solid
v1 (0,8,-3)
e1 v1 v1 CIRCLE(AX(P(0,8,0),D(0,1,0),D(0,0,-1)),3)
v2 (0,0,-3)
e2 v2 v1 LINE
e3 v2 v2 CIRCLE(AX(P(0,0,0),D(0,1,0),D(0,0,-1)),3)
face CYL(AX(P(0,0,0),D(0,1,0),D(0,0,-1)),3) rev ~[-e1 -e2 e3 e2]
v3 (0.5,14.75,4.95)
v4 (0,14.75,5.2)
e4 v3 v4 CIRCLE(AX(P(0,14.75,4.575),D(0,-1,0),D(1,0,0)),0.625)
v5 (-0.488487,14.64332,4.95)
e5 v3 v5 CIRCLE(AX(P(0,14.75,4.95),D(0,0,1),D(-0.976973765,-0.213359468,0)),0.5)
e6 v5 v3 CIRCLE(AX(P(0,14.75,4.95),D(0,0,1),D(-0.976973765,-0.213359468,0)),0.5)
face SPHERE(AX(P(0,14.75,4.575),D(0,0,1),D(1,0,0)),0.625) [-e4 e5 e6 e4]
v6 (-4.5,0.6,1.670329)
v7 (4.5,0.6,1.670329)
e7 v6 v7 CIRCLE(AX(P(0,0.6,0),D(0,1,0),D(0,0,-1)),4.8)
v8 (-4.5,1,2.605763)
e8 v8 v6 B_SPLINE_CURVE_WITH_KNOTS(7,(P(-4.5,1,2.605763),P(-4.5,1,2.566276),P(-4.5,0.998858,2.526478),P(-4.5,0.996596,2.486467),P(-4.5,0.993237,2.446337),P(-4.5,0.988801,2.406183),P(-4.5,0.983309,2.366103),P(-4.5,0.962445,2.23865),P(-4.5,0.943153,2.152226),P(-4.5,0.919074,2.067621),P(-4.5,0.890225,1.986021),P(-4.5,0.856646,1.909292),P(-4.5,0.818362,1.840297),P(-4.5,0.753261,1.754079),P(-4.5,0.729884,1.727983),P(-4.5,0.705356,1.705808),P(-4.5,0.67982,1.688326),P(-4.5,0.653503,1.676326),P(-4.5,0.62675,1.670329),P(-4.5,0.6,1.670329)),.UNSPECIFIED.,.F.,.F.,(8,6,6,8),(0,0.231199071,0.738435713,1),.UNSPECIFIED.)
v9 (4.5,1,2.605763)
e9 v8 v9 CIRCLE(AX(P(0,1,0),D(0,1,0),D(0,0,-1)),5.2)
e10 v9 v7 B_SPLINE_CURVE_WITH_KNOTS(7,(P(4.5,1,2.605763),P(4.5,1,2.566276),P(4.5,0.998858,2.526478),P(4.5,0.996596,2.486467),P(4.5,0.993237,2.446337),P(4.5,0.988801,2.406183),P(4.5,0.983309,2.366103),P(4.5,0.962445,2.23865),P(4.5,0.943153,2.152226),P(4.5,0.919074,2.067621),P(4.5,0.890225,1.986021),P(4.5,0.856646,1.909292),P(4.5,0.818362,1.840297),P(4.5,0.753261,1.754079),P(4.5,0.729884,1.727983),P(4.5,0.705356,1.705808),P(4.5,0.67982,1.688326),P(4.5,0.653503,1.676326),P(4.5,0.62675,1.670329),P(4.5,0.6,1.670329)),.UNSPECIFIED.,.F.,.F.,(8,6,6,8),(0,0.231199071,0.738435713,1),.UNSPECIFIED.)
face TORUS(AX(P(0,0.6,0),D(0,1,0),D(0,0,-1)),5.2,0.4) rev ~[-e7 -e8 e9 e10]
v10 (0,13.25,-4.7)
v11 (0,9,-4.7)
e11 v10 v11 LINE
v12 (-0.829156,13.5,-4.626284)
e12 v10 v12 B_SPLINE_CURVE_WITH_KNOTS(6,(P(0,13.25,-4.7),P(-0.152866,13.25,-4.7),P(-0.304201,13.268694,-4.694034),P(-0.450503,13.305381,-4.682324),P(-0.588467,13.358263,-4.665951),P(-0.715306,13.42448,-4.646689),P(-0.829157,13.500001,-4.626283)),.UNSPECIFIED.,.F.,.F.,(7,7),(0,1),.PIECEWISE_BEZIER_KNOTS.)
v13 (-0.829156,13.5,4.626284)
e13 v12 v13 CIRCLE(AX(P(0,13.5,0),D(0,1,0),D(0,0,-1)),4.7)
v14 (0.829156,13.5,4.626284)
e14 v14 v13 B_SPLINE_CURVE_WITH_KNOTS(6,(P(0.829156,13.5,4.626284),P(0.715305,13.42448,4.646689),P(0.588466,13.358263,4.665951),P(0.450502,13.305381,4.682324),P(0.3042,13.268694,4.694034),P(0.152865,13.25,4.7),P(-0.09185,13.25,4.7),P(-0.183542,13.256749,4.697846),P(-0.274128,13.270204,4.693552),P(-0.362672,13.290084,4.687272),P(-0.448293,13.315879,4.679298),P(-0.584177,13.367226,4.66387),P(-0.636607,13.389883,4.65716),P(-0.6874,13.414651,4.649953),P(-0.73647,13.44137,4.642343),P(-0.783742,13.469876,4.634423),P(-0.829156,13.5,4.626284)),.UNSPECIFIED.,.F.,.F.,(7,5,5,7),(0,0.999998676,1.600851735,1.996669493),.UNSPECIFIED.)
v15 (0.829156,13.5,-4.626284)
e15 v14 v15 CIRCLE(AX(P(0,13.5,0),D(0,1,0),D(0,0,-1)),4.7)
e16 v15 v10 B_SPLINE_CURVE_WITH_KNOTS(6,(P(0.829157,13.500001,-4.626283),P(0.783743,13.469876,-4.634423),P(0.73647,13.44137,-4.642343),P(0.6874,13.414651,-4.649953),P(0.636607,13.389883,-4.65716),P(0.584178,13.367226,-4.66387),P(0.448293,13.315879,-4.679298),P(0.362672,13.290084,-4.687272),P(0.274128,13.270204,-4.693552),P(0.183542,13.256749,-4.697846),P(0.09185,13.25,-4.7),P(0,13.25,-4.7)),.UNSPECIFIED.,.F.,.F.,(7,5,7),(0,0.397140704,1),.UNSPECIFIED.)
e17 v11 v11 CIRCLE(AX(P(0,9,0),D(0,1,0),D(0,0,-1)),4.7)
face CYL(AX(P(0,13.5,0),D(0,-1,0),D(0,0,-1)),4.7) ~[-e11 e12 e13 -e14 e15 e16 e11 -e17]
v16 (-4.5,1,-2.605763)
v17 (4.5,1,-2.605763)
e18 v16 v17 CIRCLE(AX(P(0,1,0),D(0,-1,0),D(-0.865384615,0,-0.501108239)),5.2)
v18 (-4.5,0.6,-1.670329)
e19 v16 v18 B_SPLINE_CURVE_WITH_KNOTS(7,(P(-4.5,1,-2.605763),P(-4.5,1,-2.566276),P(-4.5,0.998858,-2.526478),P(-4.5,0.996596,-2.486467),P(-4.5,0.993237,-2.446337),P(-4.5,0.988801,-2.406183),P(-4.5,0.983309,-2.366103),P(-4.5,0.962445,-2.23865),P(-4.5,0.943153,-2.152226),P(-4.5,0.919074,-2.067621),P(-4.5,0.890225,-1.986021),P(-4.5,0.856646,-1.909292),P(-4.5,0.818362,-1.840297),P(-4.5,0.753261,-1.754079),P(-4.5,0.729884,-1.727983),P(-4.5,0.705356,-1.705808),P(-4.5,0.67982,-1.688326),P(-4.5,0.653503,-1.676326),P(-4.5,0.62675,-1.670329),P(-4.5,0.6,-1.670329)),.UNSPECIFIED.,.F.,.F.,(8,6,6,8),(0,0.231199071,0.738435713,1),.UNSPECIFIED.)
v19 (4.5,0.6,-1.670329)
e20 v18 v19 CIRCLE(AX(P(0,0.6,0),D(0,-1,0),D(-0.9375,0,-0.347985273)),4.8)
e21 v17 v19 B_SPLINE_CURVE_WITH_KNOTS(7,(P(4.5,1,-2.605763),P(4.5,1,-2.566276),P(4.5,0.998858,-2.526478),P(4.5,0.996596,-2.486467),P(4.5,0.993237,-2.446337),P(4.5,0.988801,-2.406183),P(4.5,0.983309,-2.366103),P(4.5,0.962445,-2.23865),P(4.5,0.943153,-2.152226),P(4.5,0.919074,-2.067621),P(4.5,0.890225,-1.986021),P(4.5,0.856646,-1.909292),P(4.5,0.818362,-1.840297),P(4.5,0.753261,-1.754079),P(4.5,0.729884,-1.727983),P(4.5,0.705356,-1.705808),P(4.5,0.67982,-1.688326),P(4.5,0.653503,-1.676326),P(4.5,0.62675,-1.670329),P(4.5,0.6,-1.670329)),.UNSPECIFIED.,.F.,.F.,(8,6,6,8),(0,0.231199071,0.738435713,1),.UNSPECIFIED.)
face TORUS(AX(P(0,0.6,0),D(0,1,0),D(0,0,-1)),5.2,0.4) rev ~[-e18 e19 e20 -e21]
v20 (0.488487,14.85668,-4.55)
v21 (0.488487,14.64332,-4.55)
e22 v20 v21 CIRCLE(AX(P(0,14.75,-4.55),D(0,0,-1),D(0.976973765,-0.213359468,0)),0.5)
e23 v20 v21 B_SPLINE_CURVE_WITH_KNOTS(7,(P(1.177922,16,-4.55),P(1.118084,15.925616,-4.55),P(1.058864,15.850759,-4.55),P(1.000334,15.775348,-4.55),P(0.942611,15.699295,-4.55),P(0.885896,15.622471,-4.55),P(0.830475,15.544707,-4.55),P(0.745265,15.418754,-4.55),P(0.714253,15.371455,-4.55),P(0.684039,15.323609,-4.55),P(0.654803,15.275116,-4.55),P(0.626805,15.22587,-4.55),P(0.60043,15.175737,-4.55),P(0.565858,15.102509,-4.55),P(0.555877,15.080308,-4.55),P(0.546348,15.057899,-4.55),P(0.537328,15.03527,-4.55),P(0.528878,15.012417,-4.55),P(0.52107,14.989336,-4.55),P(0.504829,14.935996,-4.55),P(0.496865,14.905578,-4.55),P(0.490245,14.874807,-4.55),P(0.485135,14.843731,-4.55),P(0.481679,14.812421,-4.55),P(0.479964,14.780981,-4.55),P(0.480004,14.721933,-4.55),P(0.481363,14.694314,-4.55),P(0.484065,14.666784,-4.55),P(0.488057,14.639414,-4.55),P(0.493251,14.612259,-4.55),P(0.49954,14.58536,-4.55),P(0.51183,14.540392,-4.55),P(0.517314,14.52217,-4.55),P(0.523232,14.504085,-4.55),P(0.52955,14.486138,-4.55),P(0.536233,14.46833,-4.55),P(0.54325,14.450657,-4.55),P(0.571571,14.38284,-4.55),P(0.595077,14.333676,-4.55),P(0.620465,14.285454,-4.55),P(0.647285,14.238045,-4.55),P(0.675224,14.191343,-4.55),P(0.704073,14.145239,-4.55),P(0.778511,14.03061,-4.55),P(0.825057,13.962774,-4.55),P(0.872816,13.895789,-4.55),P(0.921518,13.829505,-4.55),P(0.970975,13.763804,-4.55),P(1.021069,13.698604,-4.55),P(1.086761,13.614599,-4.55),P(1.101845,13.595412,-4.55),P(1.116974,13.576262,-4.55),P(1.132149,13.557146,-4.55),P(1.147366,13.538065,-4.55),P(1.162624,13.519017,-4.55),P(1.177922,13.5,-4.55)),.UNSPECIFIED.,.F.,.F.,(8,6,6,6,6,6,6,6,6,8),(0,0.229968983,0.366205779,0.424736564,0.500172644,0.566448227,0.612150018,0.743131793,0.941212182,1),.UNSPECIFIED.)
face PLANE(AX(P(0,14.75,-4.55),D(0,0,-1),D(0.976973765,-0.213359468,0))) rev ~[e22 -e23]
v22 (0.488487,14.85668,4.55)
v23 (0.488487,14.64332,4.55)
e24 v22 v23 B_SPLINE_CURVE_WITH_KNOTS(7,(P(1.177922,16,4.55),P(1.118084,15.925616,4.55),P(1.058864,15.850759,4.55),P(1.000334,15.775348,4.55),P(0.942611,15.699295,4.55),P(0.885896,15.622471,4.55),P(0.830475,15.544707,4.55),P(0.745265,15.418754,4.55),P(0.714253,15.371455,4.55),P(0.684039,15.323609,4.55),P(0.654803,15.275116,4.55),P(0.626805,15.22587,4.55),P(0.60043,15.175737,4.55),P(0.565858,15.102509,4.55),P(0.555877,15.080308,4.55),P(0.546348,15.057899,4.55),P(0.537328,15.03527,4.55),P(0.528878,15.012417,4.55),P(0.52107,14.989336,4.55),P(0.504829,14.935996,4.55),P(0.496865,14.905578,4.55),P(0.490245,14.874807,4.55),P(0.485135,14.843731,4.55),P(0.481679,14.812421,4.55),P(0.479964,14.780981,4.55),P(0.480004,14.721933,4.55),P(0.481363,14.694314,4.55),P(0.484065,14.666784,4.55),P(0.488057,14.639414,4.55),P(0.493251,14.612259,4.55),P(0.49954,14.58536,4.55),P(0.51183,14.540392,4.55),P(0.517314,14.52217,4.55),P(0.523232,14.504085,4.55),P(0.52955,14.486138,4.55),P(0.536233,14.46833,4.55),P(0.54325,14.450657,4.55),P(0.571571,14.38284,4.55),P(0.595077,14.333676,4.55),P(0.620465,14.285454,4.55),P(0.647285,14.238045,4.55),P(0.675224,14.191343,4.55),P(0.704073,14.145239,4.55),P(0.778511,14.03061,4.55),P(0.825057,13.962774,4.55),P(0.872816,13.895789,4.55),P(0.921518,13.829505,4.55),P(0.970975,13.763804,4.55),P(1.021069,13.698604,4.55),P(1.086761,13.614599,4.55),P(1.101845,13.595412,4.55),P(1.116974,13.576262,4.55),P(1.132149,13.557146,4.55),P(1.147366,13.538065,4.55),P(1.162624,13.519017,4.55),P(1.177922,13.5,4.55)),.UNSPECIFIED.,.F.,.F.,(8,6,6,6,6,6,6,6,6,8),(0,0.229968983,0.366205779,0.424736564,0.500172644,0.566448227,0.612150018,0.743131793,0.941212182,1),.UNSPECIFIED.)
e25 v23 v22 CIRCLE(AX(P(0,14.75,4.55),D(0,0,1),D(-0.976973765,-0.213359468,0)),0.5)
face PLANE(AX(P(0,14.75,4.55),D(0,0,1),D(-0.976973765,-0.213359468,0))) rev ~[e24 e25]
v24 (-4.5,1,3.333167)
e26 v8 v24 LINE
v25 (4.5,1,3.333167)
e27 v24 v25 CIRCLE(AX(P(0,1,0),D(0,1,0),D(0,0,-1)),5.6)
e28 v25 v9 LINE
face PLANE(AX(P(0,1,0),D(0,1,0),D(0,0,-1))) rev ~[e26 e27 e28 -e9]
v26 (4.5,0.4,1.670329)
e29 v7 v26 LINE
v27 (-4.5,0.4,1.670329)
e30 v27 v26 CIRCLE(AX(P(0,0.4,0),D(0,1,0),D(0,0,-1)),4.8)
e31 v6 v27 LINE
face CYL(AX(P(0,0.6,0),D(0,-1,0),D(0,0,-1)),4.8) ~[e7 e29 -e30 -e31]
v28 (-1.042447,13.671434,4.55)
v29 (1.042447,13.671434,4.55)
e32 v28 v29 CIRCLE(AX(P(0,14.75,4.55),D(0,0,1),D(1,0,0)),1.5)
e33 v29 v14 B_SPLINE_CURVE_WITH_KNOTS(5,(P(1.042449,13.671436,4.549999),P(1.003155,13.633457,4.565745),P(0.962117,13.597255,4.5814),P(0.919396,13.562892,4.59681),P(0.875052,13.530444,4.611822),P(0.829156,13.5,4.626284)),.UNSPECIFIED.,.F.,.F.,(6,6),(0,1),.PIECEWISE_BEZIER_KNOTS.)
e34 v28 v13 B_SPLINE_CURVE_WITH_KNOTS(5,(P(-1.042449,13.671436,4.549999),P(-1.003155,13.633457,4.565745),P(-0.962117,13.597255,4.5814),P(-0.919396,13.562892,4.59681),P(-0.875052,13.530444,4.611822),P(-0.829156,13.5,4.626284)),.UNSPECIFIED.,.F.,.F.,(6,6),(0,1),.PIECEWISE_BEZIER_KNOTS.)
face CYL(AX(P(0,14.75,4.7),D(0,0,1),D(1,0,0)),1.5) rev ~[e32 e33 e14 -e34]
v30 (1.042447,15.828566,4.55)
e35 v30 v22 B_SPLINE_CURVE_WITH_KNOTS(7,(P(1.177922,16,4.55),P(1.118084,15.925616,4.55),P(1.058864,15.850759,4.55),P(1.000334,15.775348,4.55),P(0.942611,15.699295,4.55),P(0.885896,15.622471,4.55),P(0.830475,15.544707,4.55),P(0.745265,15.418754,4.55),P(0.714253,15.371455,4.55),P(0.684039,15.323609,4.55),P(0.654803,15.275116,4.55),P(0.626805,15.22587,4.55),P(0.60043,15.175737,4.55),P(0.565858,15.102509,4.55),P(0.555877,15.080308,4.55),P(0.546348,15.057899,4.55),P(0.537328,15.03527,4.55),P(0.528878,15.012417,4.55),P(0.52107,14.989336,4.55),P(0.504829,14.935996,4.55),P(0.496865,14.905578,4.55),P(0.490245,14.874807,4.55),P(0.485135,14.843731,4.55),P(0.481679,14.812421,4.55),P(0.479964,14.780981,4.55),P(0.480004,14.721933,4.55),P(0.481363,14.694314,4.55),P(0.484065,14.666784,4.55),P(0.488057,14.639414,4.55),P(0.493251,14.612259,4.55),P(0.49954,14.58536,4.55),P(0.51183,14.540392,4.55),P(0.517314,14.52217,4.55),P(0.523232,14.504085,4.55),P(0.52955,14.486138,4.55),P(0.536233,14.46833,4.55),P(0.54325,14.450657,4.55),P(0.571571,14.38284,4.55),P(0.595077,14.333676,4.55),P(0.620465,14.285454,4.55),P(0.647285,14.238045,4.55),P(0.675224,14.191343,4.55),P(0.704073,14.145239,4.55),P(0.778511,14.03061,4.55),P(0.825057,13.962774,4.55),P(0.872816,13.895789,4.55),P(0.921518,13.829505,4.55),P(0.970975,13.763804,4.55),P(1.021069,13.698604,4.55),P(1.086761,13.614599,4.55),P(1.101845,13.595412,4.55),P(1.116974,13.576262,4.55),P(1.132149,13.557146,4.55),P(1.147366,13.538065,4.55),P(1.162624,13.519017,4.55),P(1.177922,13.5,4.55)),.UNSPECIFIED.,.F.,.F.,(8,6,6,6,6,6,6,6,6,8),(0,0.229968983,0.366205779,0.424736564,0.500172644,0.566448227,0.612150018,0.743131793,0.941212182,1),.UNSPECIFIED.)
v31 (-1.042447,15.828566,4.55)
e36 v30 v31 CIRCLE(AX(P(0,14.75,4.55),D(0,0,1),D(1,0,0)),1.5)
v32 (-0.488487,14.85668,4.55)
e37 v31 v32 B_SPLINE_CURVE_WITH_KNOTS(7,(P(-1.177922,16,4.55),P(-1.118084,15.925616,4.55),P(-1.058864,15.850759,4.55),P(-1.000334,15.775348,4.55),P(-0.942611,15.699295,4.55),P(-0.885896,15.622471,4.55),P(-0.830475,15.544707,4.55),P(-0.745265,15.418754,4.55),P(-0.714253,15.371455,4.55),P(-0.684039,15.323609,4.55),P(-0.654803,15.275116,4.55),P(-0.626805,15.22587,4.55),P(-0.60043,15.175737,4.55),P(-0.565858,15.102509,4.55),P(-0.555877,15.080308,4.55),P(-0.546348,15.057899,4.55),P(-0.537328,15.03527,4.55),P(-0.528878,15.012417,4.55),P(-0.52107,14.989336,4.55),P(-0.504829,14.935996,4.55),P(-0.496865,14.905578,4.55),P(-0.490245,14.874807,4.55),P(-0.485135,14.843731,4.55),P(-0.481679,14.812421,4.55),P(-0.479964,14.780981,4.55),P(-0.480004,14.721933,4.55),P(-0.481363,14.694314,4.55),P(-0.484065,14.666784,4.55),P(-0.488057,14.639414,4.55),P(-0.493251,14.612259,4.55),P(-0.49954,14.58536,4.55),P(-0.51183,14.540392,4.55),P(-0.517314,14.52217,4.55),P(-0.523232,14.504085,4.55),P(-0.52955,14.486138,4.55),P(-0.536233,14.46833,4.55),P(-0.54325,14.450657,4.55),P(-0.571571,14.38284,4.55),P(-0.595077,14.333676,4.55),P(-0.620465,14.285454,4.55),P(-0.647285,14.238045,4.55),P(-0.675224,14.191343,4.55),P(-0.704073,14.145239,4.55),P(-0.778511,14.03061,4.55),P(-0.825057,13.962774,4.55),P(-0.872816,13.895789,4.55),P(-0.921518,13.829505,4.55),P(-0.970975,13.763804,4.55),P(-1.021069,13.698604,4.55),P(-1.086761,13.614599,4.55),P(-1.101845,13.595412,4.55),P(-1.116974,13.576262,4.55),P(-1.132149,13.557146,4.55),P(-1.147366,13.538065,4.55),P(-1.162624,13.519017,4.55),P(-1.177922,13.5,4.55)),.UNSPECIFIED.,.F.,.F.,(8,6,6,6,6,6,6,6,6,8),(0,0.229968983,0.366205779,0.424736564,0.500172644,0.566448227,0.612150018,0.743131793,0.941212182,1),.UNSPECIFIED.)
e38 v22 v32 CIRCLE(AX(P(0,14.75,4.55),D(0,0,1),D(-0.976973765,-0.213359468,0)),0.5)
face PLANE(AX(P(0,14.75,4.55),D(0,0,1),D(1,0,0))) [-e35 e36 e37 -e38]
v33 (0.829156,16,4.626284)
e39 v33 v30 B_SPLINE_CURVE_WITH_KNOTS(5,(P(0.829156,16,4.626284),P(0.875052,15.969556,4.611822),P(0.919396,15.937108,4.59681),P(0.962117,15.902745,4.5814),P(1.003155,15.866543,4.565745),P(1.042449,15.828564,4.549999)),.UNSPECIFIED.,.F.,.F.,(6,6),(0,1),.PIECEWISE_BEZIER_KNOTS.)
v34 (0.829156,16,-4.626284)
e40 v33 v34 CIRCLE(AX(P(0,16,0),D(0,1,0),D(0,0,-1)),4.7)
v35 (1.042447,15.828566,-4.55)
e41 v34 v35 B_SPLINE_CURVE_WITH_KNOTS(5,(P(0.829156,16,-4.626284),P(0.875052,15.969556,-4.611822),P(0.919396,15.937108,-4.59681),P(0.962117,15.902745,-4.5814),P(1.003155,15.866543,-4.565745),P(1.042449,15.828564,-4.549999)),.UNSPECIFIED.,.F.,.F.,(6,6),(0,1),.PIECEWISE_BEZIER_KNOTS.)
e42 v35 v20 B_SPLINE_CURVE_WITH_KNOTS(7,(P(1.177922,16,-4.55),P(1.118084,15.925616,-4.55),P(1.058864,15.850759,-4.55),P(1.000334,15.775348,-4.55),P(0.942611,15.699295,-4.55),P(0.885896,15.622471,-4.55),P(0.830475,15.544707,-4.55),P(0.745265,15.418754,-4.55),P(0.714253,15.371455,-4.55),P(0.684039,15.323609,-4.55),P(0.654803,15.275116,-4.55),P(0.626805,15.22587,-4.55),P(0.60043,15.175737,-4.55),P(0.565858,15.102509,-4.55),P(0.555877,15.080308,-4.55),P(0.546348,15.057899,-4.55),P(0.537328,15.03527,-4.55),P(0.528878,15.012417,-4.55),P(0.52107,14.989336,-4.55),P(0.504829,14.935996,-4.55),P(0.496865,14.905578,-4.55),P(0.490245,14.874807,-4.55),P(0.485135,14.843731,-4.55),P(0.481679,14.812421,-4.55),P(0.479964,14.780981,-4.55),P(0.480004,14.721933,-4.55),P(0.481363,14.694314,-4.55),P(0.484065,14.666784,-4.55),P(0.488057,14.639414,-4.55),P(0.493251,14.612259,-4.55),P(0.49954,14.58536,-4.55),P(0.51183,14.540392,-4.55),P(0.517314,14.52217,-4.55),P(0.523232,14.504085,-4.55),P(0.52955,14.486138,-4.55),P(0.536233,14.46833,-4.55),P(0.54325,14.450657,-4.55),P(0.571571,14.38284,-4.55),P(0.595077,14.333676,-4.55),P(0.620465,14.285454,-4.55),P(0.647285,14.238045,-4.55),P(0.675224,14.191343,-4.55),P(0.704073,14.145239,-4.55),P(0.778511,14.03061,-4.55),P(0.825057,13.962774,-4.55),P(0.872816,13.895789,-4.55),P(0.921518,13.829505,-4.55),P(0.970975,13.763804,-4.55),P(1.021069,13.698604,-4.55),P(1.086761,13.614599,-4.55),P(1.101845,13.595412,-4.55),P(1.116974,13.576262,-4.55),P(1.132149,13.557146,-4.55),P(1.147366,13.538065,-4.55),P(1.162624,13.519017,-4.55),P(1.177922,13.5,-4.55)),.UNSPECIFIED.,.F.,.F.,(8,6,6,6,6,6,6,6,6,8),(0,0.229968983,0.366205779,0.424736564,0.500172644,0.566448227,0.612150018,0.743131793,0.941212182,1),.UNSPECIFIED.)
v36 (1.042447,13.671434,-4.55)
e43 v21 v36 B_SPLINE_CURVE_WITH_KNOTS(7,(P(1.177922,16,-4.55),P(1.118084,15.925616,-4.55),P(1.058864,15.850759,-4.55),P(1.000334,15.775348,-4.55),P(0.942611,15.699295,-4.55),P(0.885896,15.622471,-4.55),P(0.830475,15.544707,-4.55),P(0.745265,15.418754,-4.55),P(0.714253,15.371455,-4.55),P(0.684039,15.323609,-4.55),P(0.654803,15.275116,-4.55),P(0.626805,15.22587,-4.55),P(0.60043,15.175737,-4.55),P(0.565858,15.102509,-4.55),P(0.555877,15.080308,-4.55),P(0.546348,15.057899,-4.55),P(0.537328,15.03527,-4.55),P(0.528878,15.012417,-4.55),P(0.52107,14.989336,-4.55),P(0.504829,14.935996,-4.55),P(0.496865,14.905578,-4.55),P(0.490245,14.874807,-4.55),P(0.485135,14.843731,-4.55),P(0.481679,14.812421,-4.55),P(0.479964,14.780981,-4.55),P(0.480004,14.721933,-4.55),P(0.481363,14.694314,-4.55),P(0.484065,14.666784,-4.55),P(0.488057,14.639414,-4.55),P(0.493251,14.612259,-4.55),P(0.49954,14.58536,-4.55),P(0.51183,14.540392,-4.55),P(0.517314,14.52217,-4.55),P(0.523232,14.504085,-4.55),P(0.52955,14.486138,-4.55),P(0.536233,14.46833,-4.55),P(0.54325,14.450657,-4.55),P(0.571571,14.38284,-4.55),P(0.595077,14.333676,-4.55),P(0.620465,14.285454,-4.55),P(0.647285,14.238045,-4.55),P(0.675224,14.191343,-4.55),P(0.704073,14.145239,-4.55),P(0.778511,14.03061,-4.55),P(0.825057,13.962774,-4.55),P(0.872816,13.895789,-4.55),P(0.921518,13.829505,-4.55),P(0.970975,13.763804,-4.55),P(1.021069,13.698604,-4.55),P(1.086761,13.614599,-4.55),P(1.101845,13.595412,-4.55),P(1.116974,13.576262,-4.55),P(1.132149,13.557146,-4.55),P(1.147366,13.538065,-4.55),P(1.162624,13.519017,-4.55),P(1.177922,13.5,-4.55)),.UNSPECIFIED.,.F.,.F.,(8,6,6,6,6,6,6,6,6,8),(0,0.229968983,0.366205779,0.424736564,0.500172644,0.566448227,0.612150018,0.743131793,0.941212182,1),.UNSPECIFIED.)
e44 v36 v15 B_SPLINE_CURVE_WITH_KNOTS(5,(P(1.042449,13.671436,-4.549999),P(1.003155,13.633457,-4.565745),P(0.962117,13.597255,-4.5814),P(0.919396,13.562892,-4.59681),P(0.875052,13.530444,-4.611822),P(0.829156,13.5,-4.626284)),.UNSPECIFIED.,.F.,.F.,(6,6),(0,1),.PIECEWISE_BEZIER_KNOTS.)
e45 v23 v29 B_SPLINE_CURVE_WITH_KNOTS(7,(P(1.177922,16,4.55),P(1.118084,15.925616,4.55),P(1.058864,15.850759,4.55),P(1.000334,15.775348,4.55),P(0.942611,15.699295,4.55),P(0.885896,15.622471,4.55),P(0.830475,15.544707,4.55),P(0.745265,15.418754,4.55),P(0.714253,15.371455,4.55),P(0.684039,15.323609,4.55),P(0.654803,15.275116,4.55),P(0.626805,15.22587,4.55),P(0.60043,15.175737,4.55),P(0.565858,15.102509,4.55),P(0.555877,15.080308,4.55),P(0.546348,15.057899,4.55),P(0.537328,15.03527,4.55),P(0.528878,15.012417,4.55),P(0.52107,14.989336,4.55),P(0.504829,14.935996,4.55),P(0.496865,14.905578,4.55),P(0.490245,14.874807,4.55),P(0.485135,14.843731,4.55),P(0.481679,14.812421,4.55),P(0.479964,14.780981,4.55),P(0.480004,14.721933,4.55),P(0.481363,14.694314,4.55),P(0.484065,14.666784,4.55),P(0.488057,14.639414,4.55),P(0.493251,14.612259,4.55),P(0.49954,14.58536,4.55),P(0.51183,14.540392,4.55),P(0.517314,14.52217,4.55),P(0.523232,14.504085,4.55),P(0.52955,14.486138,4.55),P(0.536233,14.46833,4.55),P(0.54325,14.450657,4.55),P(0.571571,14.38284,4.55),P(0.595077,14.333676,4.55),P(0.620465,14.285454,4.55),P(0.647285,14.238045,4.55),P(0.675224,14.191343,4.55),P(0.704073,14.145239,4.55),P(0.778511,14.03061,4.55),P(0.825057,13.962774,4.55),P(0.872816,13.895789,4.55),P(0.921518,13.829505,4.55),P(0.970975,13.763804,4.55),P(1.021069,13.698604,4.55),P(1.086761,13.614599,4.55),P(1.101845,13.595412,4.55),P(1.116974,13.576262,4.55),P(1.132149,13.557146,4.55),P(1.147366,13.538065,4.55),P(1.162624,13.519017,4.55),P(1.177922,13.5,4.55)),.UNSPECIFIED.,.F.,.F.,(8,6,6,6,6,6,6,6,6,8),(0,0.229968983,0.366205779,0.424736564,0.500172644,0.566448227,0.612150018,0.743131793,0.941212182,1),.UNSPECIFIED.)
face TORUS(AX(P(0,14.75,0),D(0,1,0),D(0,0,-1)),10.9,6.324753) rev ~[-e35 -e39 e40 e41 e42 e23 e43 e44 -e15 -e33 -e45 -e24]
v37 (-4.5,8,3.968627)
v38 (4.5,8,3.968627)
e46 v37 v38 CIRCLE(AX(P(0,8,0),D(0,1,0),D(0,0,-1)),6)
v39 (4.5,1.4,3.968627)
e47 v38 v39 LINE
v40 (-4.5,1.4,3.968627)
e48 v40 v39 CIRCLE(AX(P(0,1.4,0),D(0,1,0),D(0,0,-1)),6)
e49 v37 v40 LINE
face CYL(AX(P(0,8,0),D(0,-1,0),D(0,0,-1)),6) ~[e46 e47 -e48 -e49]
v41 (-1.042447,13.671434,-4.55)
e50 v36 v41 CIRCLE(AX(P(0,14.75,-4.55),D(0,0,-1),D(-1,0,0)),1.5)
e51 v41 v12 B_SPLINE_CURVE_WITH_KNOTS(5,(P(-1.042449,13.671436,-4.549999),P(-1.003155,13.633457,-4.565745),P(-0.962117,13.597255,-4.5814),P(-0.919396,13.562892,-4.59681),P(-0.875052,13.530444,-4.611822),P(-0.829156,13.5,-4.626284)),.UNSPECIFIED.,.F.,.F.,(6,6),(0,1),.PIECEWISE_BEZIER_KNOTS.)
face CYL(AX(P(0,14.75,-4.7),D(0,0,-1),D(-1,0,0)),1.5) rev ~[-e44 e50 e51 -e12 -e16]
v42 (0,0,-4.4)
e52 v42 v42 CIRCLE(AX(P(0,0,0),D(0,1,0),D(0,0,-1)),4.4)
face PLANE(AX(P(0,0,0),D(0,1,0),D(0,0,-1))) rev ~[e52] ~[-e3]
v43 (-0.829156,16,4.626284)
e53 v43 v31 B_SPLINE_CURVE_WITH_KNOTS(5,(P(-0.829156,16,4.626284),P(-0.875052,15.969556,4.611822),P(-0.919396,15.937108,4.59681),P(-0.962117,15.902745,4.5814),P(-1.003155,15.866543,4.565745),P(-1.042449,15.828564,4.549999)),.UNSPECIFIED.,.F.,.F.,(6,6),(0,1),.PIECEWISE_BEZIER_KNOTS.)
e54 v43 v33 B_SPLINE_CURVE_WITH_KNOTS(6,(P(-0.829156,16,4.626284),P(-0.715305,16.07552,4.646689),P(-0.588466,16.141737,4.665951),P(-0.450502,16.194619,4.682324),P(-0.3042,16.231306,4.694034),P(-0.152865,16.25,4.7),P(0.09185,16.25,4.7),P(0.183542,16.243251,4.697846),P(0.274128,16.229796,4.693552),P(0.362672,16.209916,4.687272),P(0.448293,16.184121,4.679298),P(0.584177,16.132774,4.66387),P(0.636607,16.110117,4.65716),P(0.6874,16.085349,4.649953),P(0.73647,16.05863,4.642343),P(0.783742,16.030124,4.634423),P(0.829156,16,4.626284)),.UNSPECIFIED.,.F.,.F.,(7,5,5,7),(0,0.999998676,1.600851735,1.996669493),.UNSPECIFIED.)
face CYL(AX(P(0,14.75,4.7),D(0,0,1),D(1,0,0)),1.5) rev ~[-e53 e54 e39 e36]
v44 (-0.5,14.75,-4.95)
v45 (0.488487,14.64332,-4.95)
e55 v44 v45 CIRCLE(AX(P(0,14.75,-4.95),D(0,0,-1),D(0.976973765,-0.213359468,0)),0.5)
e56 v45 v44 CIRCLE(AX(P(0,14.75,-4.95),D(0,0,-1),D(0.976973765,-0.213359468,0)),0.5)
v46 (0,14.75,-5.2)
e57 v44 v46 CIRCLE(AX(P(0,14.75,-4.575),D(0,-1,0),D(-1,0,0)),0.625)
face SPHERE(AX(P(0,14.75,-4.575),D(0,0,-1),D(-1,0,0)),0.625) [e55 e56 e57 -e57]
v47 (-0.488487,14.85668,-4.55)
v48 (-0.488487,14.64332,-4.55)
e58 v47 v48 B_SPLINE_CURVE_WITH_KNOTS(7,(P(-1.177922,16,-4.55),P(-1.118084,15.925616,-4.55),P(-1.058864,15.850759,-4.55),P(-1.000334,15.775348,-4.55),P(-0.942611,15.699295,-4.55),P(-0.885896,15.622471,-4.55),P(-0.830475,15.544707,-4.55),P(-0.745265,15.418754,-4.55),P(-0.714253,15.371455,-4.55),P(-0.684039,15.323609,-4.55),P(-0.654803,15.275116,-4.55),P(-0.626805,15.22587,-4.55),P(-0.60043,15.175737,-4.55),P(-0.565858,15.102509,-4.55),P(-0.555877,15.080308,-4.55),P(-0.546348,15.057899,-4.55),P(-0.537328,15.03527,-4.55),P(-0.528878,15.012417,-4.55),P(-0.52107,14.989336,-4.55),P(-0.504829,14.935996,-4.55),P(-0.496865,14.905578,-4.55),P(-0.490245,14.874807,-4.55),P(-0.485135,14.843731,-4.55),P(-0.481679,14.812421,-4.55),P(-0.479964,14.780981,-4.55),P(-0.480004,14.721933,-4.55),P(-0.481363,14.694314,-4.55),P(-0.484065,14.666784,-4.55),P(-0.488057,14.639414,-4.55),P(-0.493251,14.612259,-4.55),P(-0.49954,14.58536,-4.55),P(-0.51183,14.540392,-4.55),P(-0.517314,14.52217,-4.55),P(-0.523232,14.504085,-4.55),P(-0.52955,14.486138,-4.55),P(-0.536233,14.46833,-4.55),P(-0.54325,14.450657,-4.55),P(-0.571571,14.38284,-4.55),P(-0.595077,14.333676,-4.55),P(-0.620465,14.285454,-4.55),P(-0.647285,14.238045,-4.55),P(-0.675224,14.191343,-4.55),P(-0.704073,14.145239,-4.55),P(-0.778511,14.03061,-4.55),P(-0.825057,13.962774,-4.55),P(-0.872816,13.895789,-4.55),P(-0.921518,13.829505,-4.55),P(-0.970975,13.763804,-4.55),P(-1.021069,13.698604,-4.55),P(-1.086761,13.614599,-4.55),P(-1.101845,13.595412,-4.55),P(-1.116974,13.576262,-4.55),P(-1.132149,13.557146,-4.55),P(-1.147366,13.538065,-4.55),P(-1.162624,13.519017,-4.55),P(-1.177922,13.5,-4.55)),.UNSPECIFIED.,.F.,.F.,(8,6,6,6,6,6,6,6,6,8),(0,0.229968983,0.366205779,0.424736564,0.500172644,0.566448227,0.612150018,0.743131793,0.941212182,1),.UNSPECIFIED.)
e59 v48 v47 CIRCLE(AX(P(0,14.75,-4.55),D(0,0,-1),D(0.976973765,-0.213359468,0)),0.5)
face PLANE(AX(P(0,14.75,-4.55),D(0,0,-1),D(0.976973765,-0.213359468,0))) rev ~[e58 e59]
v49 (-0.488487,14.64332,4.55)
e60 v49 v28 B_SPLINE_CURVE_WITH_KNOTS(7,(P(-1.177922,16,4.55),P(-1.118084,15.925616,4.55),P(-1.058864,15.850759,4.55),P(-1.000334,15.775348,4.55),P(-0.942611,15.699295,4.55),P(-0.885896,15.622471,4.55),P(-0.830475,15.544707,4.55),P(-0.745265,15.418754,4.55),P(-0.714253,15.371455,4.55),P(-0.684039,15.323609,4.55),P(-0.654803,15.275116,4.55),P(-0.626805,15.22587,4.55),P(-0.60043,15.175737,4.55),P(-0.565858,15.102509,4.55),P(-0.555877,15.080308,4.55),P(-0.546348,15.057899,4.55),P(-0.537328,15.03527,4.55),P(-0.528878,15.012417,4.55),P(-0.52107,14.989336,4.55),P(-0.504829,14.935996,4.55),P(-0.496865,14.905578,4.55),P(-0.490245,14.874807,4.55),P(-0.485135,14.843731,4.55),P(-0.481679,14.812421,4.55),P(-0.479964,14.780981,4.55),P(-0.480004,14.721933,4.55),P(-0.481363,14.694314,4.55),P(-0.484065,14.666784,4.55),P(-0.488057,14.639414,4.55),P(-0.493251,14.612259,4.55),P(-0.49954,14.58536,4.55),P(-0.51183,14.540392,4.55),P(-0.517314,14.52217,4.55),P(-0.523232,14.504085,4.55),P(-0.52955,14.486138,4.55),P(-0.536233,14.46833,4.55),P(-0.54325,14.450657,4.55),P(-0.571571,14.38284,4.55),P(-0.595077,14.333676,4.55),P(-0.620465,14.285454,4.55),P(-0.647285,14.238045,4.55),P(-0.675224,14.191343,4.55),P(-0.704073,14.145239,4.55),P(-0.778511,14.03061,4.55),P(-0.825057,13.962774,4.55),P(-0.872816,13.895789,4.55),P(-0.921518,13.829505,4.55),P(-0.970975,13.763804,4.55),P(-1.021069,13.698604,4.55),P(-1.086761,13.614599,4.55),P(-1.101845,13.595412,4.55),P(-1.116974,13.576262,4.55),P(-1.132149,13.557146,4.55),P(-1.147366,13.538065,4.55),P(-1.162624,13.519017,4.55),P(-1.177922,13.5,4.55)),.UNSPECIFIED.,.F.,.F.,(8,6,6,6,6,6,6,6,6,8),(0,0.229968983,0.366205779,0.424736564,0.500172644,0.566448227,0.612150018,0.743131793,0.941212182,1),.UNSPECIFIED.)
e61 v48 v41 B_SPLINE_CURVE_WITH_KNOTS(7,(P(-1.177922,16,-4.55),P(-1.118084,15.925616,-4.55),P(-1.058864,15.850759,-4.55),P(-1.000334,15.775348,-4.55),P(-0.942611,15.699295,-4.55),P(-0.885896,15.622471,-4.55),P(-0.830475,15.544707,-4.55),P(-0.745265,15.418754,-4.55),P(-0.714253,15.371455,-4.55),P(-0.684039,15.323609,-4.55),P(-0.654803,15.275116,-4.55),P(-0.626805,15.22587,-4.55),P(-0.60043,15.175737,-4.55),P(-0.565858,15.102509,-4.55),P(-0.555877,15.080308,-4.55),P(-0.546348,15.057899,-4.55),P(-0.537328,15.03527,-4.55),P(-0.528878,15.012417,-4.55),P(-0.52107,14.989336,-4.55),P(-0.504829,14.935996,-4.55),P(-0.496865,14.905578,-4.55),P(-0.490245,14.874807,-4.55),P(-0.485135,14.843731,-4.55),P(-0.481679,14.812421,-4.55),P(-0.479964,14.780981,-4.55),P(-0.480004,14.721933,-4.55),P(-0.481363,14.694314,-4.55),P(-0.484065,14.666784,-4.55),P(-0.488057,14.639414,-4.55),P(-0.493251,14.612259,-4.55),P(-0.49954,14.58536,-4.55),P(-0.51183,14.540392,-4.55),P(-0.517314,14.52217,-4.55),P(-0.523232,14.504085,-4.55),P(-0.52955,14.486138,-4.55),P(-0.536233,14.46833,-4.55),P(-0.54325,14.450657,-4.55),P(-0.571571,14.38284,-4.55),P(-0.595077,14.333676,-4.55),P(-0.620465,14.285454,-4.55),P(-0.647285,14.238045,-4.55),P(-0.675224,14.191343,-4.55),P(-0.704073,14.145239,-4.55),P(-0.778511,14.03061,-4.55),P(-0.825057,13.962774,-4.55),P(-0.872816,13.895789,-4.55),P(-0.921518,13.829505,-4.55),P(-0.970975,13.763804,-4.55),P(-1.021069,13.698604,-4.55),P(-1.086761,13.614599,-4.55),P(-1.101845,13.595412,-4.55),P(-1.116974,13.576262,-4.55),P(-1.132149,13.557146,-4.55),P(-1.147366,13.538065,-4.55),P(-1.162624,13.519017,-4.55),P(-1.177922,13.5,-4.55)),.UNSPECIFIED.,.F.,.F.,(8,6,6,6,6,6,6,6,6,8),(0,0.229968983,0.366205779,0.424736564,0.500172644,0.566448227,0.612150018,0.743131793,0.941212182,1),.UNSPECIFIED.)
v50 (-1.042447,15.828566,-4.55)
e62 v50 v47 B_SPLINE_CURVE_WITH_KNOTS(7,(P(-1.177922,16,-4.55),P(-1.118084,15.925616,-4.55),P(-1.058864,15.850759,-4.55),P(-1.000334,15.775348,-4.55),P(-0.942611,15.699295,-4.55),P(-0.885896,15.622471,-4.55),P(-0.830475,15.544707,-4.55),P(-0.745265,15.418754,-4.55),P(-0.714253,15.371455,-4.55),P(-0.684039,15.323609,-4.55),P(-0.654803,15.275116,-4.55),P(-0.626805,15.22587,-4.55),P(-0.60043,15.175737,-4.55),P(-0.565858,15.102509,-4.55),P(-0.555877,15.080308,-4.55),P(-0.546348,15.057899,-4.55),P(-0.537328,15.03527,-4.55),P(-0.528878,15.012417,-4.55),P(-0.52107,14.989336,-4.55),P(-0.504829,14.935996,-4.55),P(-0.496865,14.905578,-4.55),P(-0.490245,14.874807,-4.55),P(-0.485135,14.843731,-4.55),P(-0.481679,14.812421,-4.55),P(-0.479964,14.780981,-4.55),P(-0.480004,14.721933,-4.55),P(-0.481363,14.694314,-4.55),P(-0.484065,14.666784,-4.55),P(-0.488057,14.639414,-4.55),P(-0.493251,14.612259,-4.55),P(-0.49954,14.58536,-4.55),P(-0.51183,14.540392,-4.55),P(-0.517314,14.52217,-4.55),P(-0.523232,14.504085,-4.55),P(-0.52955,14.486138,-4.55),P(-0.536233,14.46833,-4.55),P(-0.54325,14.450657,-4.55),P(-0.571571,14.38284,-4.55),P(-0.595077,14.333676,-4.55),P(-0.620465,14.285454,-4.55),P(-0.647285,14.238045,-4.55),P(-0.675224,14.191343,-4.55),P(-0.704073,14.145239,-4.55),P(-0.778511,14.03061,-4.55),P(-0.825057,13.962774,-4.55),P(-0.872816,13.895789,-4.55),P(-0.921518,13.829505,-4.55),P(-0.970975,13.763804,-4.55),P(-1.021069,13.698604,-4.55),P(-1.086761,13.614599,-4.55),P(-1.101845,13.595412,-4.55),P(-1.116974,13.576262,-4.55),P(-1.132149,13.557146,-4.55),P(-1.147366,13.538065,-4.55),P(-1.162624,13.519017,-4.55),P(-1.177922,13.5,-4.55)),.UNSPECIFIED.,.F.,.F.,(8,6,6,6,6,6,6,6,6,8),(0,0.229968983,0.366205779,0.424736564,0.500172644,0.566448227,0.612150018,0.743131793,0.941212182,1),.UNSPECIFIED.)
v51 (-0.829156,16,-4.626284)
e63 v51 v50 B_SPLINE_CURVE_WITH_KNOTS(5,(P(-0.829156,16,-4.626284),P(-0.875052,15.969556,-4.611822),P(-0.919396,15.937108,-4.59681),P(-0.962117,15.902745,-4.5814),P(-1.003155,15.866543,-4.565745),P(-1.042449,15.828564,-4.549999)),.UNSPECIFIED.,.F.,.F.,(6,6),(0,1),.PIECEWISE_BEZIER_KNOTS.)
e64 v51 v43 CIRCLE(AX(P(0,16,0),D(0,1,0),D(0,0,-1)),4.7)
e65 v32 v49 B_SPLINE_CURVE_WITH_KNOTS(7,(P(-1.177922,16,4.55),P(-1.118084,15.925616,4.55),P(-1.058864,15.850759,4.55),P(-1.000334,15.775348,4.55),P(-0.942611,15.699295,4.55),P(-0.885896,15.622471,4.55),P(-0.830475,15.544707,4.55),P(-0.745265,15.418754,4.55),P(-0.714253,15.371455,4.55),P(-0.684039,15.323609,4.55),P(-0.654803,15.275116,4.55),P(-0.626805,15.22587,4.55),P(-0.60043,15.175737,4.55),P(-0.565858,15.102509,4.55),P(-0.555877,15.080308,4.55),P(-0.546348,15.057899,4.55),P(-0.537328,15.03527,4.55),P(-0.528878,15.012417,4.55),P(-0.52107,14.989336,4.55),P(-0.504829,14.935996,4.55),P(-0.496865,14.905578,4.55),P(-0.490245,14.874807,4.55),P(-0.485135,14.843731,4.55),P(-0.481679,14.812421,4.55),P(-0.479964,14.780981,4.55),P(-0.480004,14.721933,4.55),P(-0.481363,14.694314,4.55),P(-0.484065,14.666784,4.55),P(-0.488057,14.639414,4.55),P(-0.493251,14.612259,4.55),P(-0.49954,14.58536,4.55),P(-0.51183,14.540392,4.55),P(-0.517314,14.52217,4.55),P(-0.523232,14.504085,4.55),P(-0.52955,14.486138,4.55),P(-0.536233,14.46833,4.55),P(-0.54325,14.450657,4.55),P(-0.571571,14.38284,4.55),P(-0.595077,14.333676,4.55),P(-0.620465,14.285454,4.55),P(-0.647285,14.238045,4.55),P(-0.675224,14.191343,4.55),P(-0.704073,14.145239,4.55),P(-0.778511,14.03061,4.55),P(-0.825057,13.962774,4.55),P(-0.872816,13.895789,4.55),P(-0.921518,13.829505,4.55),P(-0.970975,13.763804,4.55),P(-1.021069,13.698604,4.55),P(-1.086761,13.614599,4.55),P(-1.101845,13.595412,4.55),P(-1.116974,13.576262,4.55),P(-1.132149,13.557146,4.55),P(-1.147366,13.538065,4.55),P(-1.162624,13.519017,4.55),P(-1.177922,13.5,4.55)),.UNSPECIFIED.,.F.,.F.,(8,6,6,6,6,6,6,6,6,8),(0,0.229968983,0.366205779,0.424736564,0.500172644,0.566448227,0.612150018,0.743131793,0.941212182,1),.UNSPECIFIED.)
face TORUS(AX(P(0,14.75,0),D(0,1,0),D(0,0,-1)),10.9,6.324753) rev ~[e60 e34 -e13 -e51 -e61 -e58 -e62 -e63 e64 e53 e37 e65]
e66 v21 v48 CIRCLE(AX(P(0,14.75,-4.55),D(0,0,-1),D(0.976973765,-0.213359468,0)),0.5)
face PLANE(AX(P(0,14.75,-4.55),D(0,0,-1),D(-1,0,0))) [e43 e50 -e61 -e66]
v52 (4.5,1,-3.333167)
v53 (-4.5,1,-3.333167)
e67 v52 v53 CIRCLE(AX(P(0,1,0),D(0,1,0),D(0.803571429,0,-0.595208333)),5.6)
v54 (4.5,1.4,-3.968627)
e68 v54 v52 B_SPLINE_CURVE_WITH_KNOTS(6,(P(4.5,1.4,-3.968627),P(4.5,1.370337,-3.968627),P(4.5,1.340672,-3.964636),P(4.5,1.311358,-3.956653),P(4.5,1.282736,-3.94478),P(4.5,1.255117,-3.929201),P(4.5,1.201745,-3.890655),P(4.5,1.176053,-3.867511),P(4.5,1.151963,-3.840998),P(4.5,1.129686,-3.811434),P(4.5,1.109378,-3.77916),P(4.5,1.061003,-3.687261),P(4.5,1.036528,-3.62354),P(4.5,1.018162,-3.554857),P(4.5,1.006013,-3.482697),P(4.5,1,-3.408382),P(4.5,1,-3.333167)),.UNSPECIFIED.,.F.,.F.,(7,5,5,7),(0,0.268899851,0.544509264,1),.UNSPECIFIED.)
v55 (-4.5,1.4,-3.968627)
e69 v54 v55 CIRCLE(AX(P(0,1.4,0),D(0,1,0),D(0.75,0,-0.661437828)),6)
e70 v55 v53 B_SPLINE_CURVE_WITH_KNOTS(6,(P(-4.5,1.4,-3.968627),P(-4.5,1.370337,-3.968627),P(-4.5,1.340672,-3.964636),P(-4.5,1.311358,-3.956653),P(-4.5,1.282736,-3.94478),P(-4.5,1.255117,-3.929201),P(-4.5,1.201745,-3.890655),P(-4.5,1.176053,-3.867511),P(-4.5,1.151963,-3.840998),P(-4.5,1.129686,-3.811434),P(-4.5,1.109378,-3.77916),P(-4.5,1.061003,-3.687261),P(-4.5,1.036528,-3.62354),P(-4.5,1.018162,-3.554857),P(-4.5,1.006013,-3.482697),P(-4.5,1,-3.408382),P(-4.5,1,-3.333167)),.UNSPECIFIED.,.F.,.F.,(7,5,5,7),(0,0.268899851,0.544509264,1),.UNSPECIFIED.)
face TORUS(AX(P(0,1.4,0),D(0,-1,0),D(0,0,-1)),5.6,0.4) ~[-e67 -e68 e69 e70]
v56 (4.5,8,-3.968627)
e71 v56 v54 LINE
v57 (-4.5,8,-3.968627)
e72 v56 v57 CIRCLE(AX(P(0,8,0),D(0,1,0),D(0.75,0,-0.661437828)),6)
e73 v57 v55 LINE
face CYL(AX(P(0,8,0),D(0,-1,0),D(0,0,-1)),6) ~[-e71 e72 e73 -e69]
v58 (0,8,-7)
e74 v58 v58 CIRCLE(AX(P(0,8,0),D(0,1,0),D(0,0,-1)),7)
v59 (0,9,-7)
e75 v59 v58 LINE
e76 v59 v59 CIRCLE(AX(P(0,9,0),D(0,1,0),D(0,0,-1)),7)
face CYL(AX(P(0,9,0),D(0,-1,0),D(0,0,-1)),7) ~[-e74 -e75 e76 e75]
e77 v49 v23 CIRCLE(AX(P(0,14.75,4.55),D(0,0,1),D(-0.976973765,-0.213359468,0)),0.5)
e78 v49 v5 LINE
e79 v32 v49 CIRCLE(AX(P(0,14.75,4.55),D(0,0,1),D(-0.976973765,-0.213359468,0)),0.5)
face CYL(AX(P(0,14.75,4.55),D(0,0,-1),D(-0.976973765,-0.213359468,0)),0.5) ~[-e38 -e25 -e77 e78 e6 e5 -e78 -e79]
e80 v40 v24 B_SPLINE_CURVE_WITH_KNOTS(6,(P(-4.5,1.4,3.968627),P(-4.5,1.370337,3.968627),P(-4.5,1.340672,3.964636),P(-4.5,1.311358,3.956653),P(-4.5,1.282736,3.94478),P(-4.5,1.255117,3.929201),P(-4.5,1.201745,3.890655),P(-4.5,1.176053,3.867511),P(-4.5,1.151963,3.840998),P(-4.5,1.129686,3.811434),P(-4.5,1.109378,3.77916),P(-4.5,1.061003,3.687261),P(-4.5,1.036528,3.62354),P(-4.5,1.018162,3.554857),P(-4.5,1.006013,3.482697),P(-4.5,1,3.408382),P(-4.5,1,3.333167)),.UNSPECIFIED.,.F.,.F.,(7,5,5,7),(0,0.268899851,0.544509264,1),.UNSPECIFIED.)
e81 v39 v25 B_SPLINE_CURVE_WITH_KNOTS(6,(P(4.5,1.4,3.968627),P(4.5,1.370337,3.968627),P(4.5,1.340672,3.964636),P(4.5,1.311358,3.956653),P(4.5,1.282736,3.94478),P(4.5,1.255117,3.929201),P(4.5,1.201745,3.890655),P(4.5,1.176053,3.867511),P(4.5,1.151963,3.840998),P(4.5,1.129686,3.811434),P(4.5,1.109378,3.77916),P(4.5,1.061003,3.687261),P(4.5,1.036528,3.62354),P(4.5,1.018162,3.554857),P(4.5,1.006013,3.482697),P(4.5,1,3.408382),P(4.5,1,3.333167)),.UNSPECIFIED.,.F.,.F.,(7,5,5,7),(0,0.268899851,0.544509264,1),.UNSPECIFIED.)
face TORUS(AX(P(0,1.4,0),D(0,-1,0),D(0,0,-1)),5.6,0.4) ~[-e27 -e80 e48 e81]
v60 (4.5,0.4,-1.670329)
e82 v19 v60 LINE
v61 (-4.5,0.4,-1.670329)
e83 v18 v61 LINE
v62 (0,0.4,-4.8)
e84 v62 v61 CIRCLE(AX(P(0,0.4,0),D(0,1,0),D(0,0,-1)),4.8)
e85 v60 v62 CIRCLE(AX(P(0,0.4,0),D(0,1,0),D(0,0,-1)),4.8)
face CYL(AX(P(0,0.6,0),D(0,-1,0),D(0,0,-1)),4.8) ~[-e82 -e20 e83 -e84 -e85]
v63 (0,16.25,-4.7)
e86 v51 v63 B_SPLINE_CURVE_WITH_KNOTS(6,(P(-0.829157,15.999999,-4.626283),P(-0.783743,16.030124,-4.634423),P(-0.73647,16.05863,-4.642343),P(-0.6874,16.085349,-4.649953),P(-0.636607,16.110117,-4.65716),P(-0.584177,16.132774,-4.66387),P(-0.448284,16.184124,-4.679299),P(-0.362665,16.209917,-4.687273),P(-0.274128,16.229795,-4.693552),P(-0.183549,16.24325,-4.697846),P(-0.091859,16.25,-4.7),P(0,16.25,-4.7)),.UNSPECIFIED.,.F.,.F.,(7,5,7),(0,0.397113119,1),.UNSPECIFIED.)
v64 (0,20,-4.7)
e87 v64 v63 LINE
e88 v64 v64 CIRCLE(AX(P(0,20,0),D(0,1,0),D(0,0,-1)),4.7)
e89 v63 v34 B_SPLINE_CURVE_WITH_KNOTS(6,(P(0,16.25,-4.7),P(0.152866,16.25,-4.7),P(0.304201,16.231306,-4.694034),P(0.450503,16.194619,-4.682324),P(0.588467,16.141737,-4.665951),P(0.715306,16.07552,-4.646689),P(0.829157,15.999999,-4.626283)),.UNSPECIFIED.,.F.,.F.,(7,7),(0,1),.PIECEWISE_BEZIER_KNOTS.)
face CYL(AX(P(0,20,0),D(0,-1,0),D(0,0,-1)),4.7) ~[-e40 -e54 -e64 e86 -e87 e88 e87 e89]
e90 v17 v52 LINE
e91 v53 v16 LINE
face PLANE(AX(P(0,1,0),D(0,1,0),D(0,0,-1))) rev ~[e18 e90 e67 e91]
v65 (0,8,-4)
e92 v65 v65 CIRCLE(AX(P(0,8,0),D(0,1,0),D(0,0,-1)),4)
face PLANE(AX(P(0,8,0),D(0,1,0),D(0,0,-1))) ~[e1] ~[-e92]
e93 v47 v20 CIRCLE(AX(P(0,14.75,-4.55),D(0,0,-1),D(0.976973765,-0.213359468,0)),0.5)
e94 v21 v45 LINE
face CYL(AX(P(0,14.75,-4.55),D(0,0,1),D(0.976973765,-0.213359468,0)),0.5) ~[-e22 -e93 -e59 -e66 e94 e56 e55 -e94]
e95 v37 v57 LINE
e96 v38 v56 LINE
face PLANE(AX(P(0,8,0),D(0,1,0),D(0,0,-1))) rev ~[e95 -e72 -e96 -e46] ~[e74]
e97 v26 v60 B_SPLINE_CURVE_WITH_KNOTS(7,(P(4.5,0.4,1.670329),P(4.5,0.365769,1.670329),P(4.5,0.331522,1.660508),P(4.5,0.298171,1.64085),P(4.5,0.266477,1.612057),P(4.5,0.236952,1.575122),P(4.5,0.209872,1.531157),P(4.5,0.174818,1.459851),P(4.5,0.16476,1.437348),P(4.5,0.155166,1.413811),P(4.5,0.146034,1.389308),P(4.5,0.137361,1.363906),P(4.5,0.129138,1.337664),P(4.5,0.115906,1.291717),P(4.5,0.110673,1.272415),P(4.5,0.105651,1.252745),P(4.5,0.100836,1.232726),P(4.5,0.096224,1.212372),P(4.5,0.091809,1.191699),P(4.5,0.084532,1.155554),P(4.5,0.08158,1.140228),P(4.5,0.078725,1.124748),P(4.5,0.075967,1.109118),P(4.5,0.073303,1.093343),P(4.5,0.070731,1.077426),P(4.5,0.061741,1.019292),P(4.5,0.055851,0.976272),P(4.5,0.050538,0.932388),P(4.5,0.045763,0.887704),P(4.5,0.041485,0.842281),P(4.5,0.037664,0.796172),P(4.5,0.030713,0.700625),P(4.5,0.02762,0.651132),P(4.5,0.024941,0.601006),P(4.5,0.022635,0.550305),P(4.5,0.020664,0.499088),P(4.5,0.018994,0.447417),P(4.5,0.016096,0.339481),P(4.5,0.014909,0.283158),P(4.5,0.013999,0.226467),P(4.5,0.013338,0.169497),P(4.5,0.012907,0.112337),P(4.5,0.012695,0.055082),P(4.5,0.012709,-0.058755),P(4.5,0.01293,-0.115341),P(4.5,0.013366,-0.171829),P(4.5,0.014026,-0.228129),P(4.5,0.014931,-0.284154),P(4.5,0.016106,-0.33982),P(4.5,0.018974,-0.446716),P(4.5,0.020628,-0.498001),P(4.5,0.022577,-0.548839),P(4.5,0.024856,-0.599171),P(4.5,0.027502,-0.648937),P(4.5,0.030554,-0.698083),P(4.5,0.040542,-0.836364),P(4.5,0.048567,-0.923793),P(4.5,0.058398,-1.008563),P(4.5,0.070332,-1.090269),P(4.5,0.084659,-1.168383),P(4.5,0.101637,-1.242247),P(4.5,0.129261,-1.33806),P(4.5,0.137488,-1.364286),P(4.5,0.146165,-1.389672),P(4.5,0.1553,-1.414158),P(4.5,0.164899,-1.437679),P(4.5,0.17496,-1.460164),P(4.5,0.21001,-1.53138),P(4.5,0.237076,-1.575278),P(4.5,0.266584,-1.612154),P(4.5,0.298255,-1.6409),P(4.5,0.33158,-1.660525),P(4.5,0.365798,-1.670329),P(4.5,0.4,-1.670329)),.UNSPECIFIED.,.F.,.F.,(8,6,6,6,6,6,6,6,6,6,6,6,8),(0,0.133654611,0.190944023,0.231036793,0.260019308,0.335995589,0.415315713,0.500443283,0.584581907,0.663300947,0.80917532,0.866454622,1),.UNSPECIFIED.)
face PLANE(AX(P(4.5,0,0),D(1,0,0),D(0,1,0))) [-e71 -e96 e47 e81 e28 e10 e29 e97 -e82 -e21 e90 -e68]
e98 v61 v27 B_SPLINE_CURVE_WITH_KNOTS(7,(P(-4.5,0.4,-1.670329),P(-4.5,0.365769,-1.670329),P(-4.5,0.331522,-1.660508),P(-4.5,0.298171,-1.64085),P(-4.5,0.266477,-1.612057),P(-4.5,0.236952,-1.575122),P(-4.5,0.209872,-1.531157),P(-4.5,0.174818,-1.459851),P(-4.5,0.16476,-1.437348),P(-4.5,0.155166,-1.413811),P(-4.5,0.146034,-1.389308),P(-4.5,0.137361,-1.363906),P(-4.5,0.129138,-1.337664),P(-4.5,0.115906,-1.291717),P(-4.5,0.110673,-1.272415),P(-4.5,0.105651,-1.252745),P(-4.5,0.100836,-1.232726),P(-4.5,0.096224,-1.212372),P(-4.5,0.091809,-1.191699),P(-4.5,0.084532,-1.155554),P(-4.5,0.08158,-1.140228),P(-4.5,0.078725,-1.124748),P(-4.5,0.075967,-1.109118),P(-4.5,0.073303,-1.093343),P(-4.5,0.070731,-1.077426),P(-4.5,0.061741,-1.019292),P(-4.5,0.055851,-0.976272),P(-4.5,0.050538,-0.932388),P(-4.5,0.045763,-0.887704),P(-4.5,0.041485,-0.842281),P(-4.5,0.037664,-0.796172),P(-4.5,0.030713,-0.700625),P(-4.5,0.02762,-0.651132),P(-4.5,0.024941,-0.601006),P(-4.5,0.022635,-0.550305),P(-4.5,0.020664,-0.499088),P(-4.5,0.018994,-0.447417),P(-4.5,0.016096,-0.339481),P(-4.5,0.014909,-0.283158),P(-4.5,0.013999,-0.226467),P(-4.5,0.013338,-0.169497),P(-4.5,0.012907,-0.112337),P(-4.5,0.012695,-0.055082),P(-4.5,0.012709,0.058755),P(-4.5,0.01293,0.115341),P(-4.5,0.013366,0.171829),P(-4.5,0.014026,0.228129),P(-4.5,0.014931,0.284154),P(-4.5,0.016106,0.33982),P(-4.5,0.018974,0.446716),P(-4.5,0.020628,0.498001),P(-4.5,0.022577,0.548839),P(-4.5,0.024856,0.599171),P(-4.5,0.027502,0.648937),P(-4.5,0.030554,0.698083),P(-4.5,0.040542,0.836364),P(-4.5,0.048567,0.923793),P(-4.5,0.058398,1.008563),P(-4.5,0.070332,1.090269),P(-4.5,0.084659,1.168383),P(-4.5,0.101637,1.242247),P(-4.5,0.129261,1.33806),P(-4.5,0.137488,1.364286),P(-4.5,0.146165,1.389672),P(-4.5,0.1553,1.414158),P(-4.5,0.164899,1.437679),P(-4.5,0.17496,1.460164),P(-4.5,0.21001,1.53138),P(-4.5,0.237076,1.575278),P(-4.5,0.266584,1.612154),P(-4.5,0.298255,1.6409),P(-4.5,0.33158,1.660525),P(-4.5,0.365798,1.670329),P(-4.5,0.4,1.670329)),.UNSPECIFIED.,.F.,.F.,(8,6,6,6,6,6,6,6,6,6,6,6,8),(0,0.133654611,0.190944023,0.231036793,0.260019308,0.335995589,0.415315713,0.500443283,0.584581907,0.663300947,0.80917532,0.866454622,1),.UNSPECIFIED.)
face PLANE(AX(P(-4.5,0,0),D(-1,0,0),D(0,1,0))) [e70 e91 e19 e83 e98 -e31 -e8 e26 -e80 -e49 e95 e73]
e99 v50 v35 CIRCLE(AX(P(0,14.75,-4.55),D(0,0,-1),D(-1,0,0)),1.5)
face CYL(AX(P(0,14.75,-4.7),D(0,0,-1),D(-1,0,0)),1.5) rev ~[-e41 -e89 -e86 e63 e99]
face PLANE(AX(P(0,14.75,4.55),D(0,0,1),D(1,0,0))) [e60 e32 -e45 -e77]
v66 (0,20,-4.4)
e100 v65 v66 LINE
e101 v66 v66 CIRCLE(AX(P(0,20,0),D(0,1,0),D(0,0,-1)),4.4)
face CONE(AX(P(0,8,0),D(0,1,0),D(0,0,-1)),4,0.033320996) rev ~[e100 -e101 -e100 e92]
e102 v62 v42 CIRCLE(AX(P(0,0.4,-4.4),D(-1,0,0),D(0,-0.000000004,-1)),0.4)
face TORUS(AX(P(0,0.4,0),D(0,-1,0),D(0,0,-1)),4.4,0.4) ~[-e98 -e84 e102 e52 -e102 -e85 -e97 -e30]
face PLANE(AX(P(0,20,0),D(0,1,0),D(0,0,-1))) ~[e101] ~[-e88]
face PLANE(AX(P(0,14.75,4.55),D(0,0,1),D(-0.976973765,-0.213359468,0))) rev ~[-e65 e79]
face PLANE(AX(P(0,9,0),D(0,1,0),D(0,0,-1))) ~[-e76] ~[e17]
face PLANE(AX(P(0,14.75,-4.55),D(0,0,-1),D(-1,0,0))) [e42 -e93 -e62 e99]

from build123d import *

# Parameters (mm, degrees)
SKETCH_2_W                            = 2.5
SKETCH_2_H                            = 8
CUT_EXTRUDE_1_DEPTH                   = 10
SKETCH_5_R                            = 1.5
CUT_EXTRUDE_4_DEPTH                   = 0.15
SKETCH_7_R                            = 0.5
EXTRUDE_1_DEPTH                       = 0.4
DOME_1_FACE_RADIUS                    = 0.5
DOME_1_HEIGHT                         = 0.25
PATTERN_CIRCULAR_1_COUNT              = 2
PATTERN_CIRCULAR_1_COPY_1_FACE_RADIUS = 0.5
PATTERN_CIRCULAR_1_COPY_1_HEIGHT      = 0.25


with BuildPart() as part:
    # Эскиз1 → Повернуть1 (revolve)
    with BuildSketch(Plane(origin=(0, 0, 0), x_dir=(0, 0, -1), z_dir=(1, 0, 0))):
        with BuildLine():
            Line((4.7, 20), (4.7, 16))
            ThreePointArc((4.7, 16), (4.57524704, 14.75), (4.7, 13.5))
            Line((4.7, 13.5), (4.7, 9))
            Line((4.7, 9), (7, 9))
            Line((7, 9), (7, 8))
            Line((7, 8), (6, 8))
            Line((6, 8), (6, 1.4))
            ThreePointArc((6, 1.4), (5.882842712, 1.117157288), (5.6, 1))
            Line((5.6, 1), (5.2, 1))
            ThreePointArc((5.2, 1), (4.917157288, 0.882842712), (4.8, 0.6))
            Line((4.8, 0.6), (4.8, 0.4))
            ThreePointArc((4.8, 0.4), (4.682842712, 0.117157288), (4.4, 0))
            Line((4.4, 0), (3, 0))
            Line((3, 0), (3, 8))
            Line((3, 8), (4, 8))
            Line((4, 8), (4.4, 20))
            Line((4.4, 20), (4.7, 20))
        make_face()
    revolve(axis=Axis((0, 0, 0), (0, 1, 0)))

    # Эскиз2 → Вырез-Вытянуть1 (cut, symmetric)
    with BuildSketch(Plane.XY):
        with Locations((-5.75, 4)):
            Rectangle(SKETCH_2_W, SKETCH_2_H)
        with Locations((5.75, 4)):
            Rectangle(SKETCH_2_W, SKETCH_2_H)
    extrude(amount=CUT_EXTRUDE_1_DEPTH, both=True, mode=Mode.SUBTRACT)

    # Эскиз5 → Вырез-Вытянуть4 (cut)
    with BuildSketch(Plane.XY.offset(4.7)):
        with Locations((0, 14.75)):
            Circle(SKETCH_5_R)
    cut_extrude_4 = extrude(amount=-CUT_EXTRUDE_4_DEPTH, mode=Mode.SUBTRACT)

    # Эскиз7 → Бобышка-Вытянуть1 (add)
    with BuildSketch(Plane.XY.offset(4.55)):
        with Locations(Location((0, 14.75, 0), (0, 0, 192.319298658))):
            Circle(SKETCH_7_R)
    extrude_1 = extrude(amount=EXTRUDE_1_DEPTH)

    # Купол1: a dome of height H over a round flat face of radius A is a cap of a sphere of radius (A * A + H * H) / (2 * H)
    dome_1_r = (DOME_1_FACE_RADIUS * DOME_1_FACE_RADIUS + DOME_1_HEIGHT * DOME_1_HEIGHT) / (2 * DOME_1_HEIGHT)
    dome_1_base = Plane((0, 14.75, 4.95), z_dir=(0, 0, 1))
    with Locations(dome_1_base.offset(DOME_1_HEIGHT - dome_1_r)):
        dome_1_ball = Sphere(dome_1_r, mode=Mode.PRIVATE)
    add(split(dome_1_ball, bisect_by=dome_1_base, keep=Keep.TOP, mode=Mode.PRIVATE))

    # Круговой массив1: Вырез-Вытянуть4, Бобышка-Вытянуть1 ×2 about axis
    pattern_circular_1_axis = Axis((0, 9, 0), (0, -1, 0))
    add([cut_extrude_4.rotate(pattern_circular_1_axis, i * 360 / PATTERN_CIRCULAR_1_COUNT) for i in range(1, PATTERN_CIRCULAR_1_COUNT)], mode=Mode.SUBTRACT)
    add([extrude_1.rotate(pattern_circular_1_axis, i * 360 / PATTERN_CIRCULAR_1_COUNT) for i in range(1, PATTERN_CIRCULAR_1_COUNT)])

    # Круговой массив1 copy 1: a dome of height H over a round flat face of radius A is a cap of a sphere of radius (A * A + H * H) / (2 * H)
    pattern_circular_1_copy_1_r = (PATTERN_CIRCULAR_1_COPY_1_FACE_RADIUS * PATTERN_CIRCULAR_1_COPY_1_FACE_RADIUS + PATTERN_CIRCULAR_1_COPY_1_HEIGHT * PATTERN_CIRCULAR_1_COPY_1_HEIGHT) / (2 * PATTERN_CIRCULAR_1_COPY_1_HEIGHT)
    pattern_circular_1_copy_1_base = Plane((0, 14.75, -4.95), z_dir=(0, 0, -1))
    with Locations(pattern_circular_1_copy_1_base.offset(PATTERN_CIRCULAR_1_COPY_1_HEIGHT - pattern_circular_1_copy_1_r)):
        pattern_circular_1_copy_1_ball = Sphere(pattern_circular_1_copy_1_r, mode=Mode.PRIVATE)
    add(split(pattern_circular_1_copy_1_ball, bisect_by=pattern_circular_1_copy_1_base, keep=Keep.TOP, mode=Mode.PRIVATE))


solid = part.part
